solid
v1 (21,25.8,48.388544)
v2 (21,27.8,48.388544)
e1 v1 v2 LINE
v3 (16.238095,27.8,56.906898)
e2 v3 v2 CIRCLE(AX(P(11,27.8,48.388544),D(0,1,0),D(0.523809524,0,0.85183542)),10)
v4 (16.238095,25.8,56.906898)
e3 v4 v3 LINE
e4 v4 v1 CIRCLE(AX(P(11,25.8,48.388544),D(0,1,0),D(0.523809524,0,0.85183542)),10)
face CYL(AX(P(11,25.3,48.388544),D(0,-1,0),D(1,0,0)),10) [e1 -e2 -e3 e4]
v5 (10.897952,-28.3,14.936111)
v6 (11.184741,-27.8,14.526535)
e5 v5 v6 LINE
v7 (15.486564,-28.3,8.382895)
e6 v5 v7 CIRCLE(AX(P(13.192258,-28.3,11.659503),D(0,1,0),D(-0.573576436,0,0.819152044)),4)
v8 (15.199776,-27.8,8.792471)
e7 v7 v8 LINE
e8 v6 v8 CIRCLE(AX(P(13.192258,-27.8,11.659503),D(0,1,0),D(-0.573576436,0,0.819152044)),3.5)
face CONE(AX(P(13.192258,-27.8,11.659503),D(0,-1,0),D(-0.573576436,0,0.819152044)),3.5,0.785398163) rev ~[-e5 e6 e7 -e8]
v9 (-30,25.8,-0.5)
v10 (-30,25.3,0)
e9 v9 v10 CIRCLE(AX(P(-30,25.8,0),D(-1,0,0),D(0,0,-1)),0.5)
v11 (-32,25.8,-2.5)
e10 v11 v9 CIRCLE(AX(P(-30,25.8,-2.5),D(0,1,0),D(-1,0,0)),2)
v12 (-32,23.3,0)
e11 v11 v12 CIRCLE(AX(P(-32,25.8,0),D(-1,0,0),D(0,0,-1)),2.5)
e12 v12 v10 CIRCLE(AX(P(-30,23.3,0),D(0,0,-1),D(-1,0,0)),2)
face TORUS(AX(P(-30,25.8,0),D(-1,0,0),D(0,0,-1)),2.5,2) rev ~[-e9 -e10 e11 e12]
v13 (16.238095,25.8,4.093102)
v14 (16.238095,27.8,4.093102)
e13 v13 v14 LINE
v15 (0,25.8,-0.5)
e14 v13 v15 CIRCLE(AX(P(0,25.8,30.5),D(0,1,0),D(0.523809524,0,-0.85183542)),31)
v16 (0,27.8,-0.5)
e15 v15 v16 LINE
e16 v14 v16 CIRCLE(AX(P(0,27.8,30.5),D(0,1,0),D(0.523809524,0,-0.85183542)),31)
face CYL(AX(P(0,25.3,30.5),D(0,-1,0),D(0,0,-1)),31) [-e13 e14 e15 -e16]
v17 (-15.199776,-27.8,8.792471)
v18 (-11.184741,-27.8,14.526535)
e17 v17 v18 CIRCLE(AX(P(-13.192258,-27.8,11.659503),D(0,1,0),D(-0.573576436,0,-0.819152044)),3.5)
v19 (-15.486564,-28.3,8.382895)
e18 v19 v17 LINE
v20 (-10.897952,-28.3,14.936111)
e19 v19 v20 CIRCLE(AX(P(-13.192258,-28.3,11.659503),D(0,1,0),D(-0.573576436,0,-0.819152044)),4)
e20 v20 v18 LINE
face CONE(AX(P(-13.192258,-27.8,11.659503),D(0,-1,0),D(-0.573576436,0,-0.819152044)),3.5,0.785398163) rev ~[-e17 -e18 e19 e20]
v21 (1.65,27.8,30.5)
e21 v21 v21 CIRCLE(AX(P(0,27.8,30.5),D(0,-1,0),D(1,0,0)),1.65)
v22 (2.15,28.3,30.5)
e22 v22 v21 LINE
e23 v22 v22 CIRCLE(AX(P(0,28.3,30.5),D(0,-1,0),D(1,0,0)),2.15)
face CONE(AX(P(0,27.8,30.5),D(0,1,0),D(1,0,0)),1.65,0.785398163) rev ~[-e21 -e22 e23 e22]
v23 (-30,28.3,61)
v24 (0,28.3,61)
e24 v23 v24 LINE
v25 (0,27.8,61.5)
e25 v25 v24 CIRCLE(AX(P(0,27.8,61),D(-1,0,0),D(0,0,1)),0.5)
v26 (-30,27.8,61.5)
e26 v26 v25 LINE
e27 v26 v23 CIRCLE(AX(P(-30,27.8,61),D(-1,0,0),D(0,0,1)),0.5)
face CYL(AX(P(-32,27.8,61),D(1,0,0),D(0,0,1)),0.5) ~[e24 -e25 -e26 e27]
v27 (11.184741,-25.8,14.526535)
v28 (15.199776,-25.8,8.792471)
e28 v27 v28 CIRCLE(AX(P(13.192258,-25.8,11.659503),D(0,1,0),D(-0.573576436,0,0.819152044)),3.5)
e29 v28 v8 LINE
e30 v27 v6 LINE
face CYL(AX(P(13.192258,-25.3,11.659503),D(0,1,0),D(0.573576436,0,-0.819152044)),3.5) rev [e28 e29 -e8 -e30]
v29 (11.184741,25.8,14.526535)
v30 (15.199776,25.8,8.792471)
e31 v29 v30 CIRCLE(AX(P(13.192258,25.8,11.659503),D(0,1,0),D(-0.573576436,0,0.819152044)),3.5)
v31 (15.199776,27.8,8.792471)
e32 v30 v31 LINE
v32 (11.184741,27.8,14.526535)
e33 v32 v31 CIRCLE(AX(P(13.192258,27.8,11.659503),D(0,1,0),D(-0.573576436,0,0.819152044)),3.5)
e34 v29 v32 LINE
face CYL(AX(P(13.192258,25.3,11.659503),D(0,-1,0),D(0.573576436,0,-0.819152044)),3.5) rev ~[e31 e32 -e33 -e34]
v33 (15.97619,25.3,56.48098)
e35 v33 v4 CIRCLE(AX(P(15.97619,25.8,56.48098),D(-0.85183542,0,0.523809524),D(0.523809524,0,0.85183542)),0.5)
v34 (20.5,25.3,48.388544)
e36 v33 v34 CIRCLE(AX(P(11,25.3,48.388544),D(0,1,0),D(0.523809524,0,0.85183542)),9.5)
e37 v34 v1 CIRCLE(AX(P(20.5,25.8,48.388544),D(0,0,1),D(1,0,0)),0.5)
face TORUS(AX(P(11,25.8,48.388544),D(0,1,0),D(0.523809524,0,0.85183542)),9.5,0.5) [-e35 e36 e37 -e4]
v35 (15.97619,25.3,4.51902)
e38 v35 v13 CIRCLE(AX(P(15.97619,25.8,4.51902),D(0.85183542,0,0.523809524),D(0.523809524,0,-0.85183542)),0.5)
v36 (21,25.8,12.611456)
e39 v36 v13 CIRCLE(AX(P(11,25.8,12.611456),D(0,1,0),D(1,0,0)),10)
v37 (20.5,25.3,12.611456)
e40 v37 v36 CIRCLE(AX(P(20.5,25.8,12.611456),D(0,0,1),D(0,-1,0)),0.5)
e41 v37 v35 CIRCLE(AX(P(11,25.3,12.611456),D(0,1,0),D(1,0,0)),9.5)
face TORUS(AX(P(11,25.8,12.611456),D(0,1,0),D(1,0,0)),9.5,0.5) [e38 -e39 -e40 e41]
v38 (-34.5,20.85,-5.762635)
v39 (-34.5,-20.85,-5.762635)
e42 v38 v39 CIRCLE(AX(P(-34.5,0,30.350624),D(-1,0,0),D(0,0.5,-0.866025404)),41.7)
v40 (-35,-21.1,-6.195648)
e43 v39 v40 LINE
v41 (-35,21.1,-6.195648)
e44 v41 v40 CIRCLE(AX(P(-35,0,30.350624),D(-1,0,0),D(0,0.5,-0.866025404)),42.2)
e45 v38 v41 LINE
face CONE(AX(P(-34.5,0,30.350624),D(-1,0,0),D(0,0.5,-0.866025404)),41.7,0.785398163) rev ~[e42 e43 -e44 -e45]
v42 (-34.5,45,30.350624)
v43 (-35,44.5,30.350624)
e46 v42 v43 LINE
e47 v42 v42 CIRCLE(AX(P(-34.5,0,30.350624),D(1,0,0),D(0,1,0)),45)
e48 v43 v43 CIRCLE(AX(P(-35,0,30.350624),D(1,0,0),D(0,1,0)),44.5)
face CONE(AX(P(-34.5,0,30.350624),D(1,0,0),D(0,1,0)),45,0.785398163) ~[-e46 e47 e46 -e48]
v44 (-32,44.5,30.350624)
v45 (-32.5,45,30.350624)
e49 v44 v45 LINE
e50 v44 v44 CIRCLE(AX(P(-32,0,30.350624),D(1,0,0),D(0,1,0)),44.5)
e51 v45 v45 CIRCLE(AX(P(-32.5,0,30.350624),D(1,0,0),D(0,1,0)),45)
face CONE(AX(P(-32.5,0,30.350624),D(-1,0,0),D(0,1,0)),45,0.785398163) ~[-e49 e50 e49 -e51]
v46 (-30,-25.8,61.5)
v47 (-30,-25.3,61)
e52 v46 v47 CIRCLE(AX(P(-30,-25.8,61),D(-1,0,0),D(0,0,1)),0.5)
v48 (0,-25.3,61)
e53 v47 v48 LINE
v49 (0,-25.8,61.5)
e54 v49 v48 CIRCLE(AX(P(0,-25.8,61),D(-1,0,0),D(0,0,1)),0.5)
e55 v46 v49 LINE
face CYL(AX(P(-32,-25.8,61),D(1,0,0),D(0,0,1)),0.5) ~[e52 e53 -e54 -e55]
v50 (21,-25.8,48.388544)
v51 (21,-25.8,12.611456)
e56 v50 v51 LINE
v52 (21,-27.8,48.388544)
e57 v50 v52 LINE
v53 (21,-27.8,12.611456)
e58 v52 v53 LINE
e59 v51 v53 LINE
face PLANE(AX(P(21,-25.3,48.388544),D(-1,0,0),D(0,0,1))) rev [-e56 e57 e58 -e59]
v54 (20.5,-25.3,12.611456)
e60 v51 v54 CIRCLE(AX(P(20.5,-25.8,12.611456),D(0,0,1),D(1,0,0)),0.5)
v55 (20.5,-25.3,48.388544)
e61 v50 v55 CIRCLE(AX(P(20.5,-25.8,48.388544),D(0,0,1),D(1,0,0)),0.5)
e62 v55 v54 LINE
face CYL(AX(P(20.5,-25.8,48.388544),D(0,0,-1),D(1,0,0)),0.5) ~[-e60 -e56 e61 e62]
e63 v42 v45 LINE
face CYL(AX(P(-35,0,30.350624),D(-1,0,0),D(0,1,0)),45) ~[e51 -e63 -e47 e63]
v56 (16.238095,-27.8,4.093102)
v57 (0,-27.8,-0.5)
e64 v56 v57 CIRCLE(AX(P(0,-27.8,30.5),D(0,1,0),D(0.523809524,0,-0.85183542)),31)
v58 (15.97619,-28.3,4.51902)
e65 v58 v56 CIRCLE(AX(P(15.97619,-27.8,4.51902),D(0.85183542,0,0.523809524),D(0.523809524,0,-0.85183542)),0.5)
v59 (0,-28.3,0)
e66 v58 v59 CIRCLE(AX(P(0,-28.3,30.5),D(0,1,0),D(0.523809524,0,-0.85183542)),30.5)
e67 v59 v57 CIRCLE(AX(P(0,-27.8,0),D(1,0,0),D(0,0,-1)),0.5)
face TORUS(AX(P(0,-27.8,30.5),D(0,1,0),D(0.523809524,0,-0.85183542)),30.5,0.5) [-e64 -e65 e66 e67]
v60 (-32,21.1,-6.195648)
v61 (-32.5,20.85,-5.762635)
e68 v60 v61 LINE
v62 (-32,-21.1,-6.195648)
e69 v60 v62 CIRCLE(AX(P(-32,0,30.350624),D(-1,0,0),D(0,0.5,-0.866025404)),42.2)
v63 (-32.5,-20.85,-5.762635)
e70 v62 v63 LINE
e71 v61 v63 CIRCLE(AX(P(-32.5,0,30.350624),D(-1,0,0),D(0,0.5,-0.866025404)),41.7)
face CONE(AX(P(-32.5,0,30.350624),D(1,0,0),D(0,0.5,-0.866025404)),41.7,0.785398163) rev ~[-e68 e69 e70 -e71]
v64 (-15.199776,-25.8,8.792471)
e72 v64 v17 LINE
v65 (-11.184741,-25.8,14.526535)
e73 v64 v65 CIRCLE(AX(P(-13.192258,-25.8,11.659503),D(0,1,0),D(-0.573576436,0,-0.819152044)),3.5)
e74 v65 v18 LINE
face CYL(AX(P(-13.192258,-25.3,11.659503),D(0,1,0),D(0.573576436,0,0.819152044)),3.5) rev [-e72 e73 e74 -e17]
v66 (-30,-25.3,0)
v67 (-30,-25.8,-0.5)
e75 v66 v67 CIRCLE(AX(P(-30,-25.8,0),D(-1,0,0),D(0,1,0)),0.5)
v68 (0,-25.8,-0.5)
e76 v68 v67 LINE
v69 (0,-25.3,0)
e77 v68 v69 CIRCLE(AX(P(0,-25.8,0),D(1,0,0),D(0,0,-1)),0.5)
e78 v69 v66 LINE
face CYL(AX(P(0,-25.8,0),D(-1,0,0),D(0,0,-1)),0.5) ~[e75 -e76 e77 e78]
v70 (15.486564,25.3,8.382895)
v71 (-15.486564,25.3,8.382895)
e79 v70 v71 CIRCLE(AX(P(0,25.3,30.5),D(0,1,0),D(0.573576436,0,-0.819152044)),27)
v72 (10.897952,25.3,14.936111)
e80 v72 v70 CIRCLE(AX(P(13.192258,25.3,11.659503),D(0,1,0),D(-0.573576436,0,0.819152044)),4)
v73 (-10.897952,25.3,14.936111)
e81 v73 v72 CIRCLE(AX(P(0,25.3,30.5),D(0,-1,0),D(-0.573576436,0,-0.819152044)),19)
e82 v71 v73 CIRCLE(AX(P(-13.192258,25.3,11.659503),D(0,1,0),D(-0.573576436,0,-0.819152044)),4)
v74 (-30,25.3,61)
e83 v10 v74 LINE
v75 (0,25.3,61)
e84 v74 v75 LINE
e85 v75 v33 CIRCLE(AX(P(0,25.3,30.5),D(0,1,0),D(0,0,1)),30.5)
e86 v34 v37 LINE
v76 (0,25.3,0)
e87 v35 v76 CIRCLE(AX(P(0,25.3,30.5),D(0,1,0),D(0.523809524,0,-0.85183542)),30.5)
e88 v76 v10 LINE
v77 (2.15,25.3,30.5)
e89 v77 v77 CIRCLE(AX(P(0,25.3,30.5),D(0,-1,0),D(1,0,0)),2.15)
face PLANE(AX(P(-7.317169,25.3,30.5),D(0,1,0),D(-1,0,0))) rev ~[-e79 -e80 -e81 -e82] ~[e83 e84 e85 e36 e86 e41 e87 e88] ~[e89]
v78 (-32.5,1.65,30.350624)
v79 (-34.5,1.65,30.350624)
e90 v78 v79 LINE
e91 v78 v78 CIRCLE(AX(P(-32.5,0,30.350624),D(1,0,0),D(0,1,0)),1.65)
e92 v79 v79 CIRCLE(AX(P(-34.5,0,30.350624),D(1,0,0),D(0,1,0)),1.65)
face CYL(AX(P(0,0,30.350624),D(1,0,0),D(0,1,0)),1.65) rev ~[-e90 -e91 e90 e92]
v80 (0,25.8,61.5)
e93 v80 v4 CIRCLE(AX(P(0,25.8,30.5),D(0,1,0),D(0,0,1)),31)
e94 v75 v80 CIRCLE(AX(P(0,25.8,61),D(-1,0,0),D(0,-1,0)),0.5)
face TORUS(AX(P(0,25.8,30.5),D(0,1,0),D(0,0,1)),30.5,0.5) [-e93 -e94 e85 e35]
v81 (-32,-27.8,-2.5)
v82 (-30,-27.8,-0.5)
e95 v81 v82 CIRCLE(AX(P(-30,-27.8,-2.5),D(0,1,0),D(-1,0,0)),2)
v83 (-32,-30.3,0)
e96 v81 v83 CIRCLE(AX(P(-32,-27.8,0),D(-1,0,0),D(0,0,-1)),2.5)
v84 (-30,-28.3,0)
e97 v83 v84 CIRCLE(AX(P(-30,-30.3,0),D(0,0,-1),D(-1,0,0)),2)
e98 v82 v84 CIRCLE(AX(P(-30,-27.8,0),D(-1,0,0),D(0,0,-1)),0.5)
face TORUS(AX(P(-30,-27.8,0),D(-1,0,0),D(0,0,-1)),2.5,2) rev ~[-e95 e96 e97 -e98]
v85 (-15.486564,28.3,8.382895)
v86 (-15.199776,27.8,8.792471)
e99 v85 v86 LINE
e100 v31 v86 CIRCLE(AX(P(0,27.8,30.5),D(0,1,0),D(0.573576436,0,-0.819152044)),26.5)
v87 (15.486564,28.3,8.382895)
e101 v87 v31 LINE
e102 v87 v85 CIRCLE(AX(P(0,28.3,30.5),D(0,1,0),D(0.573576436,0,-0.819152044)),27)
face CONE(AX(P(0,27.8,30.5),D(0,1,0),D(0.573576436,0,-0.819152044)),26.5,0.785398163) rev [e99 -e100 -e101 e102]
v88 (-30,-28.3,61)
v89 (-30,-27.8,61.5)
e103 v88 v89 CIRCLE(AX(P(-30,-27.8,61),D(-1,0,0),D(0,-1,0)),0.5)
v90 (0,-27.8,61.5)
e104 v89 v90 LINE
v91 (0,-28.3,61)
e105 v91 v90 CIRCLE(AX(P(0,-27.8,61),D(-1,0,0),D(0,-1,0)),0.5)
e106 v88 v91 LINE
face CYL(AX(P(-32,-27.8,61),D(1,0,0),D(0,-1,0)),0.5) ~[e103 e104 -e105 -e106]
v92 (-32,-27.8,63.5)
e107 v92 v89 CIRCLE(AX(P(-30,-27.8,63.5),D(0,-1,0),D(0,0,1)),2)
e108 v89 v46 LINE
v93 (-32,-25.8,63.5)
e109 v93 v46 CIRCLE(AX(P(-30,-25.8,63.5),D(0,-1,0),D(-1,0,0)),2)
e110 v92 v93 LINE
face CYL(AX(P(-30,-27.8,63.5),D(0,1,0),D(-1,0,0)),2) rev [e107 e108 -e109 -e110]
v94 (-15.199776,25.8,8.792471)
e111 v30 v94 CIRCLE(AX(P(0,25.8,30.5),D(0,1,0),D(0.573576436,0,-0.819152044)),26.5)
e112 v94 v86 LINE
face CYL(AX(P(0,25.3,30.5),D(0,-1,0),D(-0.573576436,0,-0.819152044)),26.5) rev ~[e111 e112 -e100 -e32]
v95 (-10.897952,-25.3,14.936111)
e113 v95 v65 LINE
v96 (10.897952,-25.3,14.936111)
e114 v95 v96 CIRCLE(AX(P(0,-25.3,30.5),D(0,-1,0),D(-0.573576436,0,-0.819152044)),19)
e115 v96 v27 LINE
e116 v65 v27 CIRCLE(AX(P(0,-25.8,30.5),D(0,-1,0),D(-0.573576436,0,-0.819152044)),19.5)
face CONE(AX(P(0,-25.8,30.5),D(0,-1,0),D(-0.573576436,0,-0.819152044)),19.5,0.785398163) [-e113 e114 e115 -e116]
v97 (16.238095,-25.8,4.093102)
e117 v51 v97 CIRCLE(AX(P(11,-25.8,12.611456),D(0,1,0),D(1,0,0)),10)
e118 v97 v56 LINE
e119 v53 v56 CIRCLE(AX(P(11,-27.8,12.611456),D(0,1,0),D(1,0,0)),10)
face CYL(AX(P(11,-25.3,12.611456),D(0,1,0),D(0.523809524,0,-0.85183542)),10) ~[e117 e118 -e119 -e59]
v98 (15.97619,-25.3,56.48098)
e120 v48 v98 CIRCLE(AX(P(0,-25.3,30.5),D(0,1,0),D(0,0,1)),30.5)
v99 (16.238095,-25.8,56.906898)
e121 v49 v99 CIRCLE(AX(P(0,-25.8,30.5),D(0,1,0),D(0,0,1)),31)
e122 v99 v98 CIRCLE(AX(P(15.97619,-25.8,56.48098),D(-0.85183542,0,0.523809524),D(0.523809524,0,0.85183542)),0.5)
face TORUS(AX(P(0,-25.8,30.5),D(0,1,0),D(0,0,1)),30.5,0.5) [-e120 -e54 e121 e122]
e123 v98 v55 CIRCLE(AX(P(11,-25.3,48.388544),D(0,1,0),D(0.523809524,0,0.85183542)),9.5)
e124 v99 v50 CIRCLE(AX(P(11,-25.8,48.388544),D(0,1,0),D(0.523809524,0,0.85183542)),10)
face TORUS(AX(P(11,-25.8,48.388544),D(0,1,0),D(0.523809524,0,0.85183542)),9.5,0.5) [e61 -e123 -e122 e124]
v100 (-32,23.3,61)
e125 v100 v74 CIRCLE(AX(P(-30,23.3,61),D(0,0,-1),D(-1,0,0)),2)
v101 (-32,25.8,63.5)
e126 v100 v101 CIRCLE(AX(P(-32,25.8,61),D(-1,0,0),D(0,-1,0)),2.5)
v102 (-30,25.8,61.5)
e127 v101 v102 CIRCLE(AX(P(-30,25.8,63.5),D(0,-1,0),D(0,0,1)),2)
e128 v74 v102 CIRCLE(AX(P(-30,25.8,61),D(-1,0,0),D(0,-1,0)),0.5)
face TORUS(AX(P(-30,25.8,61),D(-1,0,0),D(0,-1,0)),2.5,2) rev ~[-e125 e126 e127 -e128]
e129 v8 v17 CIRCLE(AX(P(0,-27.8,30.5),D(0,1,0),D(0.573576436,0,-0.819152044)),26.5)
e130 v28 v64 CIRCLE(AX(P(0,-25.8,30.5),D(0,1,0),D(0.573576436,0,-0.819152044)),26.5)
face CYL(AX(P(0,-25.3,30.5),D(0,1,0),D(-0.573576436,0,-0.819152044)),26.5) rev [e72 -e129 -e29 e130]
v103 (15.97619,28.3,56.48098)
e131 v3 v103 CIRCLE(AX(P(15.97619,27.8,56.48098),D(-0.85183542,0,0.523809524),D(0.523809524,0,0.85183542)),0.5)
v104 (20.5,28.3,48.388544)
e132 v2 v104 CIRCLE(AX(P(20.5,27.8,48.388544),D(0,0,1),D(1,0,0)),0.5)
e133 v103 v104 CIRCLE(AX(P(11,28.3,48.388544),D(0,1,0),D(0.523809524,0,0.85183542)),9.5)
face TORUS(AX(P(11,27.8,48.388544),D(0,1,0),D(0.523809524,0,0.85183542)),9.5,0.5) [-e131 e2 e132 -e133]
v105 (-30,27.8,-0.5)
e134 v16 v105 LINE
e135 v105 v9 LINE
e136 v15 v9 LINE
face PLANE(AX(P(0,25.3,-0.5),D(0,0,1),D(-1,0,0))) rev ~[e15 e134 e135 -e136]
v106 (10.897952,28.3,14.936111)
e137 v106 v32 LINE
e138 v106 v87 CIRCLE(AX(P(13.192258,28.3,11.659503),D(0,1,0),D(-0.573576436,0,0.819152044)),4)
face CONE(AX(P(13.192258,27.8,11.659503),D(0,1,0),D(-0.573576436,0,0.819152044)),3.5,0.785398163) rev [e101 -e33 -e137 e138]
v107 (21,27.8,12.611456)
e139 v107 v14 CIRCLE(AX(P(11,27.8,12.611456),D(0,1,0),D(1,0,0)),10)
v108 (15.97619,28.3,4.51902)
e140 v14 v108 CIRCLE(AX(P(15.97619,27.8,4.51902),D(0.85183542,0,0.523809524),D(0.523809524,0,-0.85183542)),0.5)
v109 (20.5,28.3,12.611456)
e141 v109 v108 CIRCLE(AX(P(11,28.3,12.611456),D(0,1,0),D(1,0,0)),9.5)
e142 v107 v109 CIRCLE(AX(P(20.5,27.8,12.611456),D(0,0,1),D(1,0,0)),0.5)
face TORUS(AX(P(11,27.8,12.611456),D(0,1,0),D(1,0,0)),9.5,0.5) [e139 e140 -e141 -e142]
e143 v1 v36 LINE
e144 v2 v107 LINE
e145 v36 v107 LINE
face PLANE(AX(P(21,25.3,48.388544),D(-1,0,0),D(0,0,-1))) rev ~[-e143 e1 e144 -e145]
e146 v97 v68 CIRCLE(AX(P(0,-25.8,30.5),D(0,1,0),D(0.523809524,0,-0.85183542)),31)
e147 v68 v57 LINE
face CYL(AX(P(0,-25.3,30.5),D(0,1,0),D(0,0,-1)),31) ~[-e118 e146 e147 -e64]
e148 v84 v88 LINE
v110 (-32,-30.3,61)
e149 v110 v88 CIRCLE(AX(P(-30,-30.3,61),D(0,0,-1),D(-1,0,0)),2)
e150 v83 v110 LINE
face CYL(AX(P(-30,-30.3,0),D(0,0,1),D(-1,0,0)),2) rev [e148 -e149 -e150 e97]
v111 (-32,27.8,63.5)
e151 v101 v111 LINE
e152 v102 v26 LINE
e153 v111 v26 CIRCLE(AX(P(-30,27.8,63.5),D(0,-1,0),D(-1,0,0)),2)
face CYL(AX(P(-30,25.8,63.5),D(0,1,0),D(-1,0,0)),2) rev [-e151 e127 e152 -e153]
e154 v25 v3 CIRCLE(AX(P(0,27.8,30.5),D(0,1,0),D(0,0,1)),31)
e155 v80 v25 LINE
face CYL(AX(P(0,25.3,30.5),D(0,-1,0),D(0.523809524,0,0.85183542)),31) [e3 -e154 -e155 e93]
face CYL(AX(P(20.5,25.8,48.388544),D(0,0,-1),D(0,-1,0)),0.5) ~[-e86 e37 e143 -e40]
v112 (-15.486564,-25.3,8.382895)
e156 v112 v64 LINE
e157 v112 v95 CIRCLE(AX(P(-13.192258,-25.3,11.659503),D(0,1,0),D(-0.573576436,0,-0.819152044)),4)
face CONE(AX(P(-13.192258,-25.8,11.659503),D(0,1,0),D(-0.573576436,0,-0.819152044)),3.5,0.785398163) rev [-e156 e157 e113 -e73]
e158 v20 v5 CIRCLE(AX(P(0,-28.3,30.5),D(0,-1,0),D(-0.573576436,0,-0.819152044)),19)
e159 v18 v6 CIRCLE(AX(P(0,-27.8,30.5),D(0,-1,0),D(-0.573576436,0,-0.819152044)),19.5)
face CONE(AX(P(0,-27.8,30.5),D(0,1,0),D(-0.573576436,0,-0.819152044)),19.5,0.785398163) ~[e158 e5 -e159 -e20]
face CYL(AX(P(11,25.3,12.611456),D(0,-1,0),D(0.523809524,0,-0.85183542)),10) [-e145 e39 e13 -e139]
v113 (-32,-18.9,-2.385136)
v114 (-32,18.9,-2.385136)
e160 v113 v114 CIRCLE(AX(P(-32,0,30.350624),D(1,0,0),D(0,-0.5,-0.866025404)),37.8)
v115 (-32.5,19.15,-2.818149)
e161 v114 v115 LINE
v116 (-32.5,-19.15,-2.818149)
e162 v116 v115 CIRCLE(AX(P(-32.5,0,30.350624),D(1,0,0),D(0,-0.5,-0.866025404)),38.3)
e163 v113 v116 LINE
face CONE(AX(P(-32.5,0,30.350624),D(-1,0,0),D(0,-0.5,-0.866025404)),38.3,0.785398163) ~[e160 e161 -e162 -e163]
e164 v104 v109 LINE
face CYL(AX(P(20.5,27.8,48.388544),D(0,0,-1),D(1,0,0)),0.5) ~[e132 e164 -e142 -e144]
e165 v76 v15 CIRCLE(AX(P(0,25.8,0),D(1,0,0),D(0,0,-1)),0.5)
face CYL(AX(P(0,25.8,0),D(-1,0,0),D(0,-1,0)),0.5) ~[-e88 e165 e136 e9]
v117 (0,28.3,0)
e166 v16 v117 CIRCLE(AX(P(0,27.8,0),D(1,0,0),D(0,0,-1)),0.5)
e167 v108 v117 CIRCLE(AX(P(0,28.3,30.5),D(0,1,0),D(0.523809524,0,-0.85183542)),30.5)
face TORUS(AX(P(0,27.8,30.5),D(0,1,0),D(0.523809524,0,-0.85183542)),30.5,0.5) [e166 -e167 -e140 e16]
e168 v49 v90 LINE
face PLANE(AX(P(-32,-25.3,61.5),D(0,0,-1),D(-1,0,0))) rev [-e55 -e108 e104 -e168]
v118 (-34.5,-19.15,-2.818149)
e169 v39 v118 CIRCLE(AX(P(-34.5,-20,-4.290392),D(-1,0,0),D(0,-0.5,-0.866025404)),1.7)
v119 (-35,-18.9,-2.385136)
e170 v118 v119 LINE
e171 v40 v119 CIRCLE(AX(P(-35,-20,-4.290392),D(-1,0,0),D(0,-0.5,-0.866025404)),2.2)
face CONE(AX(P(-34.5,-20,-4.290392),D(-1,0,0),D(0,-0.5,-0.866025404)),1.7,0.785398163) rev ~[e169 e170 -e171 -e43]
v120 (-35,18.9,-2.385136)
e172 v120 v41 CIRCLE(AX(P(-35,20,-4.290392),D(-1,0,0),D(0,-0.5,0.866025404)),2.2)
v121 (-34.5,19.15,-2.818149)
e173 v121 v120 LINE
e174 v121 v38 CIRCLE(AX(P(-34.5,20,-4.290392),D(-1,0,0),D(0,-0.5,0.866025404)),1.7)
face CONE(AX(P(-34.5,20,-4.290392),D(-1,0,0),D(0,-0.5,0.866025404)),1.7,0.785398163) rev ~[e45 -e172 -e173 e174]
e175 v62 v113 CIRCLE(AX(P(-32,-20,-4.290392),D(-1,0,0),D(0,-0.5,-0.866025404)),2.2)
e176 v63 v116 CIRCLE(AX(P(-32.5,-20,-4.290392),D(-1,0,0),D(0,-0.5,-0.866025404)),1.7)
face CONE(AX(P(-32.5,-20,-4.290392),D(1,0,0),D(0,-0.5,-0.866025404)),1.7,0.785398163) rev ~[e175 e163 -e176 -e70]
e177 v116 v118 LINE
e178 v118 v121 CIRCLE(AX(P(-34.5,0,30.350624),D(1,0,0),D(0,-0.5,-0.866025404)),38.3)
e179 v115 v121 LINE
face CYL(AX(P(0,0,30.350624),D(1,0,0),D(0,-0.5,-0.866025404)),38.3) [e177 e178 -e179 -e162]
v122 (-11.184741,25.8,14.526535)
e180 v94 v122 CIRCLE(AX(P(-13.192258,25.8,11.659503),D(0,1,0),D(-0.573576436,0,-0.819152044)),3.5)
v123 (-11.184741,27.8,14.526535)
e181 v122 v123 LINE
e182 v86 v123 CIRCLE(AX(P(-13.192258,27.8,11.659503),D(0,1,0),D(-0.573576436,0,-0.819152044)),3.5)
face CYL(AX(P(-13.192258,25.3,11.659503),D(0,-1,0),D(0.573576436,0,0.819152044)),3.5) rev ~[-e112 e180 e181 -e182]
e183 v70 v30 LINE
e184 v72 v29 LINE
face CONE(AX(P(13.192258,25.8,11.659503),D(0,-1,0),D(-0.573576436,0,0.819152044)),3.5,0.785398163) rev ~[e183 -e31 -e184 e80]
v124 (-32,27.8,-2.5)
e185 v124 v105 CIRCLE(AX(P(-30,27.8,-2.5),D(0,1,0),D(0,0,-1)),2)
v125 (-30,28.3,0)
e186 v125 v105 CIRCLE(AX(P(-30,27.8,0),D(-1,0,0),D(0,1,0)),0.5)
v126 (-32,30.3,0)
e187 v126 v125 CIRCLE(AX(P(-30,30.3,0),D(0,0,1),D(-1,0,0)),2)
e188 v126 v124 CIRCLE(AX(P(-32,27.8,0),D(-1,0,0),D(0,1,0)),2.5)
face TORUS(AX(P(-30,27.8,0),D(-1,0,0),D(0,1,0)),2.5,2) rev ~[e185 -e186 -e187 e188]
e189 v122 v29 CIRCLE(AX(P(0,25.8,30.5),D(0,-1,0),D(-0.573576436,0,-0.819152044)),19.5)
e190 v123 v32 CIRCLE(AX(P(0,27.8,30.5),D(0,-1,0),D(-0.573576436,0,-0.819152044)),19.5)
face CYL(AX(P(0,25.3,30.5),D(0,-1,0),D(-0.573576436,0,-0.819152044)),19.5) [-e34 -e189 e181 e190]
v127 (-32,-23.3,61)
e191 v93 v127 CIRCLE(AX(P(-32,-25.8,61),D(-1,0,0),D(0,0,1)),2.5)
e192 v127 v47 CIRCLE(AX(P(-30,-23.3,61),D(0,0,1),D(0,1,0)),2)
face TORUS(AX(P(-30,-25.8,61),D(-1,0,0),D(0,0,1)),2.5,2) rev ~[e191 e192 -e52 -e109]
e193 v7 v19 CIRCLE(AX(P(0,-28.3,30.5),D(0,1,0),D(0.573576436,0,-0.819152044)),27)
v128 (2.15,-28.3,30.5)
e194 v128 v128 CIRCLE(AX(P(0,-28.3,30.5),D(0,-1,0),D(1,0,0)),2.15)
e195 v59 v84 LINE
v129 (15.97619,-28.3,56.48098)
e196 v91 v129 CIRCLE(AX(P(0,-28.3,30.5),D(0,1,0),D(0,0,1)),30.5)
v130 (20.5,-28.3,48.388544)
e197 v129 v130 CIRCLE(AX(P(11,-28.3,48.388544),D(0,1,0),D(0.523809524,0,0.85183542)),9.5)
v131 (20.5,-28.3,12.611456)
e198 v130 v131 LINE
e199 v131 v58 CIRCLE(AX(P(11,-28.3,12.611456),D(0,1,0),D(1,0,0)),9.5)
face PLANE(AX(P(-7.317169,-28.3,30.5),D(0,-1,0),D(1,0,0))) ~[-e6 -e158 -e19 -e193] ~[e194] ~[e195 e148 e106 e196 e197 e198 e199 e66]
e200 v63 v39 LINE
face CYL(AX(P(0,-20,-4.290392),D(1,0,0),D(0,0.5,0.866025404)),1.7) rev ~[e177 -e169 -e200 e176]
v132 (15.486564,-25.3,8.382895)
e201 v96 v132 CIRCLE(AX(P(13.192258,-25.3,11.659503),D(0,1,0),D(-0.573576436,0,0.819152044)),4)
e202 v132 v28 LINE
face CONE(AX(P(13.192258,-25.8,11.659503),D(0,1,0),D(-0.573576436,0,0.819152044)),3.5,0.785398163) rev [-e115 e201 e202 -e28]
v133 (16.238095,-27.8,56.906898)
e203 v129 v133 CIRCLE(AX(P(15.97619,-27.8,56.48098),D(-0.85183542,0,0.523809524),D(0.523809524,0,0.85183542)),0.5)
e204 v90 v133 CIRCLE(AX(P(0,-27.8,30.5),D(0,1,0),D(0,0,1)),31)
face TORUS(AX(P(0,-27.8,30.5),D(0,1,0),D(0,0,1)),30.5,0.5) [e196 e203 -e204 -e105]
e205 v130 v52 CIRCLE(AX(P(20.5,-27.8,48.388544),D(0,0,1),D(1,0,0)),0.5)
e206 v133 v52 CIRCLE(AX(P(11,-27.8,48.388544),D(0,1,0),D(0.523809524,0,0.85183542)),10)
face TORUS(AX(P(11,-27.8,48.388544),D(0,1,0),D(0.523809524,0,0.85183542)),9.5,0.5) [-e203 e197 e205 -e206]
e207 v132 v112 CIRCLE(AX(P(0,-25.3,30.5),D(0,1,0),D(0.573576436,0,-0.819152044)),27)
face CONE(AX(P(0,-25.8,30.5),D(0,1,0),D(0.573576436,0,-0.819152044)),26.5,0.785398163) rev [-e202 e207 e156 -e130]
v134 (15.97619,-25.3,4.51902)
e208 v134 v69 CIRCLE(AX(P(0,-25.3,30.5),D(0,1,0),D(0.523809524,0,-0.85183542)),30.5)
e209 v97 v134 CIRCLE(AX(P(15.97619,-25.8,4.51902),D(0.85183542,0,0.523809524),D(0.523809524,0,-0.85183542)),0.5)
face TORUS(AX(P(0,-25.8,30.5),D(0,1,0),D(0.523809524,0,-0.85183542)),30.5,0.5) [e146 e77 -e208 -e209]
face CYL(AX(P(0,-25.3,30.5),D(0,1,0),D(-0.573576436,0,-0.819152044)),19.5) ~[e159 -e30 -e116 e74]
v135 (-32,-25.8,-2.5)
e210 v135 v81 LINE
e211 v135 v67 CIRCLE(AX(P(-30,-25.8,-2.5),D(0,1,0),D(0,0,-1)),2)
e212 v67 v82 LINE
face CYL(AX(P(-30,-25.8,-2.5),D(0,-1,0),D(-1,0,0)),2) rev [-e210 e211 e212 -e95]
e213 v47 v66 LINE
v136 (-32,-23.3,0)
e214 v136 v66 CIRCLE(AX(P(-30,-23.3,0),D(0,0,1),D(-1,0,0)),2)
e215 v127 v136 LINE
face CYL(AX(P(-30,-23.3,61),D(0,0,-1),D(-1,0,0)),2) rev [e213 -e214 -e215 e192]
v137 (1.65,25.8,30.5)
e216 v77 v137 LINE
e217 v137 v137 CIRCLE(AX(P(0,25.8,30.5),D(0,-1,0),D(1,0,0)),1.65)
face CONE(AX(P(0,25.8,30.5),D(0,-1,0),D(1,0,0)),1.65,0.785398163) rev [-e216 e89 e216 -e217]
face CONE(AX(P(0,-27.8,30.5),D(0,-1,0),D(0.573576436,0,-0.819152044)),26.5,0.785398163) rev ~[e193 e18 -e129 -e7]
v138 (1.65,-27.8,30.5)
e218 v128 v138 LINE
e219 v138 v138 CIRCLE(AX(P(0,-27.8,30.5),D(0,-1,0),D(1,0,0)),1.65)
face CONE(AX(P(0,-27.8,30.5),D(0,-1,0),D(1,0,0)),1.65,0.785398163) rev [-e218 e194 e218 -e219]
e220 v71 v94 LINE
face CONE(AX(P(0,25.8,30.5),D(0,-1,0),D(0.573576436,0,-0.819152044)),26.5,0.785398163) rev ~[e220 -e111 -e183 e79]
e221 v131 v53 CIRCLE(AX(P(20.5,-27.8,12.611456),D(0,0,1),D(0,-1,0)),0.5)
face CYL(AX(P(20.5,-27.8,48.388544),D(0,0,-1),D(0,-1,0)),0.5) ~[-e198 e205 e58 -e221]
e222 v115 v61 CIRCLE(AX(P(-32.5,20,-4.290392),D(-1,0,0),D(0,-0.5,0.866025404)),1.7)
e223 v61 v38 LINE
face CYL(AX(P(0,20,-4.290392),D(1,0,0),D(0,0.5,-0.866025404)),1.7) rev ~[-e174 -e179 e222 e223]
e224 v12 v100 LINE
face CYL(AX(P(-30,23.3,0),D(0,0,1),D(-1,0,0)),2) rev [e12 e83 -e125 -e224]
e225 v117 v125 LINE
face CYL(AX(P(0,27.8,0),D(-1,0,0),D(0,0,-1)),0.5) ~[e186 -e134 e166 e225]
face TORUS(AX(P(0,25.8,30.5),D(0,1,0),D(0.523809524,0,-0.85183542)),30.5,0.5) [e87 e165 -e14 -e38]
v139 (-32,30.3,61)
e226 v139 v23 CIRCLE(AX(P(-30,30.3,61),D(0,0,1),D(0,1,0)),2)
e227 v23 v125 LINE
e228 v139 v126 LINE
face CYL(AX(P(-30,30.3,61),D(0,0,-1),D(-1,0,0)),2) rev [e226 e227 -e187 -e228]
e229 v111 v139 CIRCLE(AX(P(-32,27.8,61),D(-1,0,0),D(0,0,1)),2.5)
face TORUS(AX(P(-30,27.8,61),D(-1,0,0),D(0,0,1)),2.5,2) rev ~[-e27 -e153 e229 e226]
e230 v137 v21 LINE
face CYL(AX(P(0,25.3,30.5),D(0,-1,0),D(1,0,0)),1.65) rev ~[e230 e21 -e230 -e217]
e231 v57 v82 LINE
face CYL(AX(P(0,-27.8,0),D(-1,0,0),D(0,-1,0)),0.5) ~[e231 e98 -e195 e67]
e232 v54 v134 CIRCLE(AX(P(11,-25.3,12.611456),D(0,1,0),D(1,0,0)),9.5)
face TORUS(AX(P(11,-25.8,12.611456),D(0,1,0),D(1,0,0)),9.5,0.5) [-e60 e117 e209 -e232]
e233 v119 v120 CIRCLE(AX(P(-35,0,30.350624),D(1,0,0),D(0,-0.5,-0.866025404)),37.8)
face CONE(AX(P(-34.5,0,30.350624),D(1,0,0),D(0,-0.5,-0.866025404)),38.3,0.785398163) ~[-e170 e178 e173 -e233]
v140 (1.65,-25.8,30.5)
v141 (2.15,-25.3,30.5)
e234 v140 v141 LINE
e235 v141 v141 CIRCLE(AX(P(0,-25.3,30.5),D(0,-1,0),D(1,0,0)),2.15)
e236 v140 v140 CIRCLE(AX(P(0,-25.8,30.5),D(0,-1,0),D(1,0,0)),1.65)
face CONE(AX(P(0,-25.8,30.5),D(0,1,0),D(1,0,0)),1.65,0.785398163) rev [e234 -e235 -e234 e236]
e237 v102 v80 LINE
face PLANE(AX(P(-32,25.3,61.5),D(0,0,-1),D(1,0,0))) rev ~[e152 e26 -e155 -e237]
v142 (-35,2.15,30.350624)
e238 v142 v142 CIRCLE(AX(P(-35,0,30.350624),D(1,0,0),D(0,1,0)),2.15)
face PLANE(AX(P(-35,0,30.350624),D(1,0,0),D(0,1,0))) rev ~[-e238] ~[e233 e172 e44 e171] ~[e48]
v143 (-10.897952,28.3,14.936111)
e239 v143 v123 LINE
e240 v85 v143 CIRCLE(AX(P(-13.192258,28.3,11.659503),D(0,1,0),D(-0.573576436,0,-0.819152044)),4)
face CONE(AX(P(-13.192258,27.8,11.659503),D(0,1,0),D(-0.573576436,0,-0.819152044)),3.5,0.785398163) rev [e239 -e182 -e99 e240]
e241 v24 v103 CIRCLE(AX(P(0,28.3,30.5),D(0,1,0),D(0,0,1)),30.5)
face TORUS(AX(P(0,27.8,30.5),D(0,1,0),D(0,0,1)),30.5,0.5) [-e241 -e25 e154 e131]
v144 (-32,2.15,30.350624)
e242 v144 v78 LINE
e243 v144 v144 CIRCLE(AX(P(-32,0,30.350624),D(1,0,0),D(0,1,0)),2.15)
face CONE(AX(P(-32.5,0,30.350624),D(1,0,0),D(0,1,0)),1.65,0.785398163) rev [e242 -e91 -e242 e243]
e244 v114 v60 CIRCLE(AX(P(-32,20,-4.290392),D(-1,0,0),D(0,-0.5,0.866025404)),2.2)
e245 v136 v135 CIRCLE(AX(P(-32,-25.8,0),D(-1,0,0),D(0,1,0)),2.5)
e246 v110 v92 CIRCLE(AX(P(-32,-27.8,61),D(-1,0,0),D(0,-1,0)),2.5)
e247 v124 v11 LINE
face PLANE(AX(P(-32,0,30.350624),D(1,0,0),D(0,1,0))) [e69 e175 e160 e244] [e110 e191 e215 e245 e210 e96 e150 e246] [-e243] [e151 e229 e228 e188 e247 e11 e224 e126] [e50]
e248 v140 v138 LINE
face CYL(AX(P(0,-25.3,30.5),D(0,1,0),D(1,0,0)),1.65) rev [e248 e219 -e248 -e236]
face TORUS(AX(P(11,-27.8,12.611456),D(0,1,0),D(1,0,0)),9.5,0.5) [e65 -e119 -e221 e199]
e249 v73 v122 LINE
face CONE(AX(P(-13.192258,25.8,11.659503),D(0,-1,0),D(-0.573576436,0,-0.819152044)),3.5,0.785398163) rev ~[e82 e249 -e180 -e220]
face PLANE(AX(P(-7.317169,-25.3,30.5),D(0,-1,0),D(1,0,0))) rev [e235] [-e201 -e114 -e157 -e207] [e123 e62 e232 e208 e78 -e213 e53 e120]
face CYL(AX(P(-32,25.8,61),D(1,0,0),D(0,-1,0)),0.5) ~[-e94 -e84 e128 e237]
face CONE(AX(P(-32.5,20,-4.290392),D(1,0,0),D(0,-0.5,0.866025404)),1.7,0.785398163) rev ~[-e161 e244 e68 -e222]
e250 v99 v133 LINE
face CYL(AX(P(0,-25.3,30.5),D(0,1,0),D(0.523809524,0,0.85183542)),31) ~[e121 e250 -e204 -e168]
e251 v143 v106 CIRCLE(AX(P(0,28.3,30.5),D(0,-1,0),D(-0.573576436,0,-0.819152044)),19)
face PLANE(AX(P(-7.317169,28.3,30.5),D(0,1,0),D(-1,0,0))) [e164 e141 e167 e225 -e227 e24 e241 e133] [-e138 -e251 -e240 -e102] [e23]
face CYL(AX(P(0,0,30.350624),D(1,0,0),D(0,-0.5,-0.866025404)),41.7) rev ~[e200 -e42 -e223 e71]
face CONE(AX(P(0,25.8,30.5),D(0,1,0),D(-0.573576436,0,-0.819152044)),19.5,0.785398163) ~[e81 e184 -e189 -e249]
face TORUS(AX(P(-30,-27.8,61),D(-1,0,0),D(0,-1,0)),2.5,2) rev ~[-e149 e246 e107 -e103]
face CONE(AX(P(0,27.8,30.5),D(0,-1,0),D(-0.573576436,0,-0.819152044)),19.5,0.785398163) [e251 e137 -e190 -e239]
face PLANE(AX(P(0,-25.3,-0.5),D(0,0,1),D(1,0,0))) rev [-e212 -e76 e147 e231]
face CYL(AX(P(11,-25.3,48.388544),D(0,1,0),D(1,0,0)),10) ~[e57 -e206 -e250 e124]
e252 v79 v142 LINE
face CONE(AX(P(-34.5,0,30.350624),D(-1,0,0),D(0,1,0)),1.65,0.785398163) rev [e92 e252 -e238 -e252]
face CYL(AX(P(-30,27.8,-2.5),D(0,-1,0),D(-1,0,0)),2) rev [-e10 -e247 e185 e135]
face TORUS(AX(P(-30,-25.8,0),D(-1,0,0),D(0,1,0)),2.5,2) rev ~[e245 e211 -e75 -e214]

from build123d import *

# Parameters (mm, degrees)
SKETCH013_R     = 45
PAD004_DEPTH    = 3
SKETCH014_R     = 1.65
PAD005_DEPTH    = 3
FILLET001_R     = 0.5
FILLET002_R     = 2
CHAMFER001_SIZE = 0.5
CHAMFER002_SIZE = 0.5
CHAMFER003_SIZE = 0.5
SKETCH015_R     = 1.65
POCKET007_DEPTH = 35.001
CHAMFER004_SIZE = 0.5


with BuildPart() as part:
    # Sketch013 → Pad004 (new body)
    with BuildSketch(Plane.YZ.offset(-35)):
        with Locations((0, 30.3506240158)):
            Circle(SKETCH013_R)
    extrude(amount=PAD004_DEPTH)

    # Sketch014 → Pad005 (join)
    with BuildSketch(Plane.XZ.offset(-25.3)):
        with BuildLine():
            Line((-32, 61.5), (0, 61.5))
            ThreePointArc((16.2380952381, 56.90689802), (8.4375992255, 60.3296315651), (0, 61.5))
            ThreePointArc((21, 48.38854382), (19.7287156094, 53.2680441847), (16.2380952381, 56.90689802))
            Line((21, 48.38854382), (21, 12.61145618))
            ThreePointArc((16.2380952381, 4.09310198), (19.7287156094, 7.7319558153), (21, 12.61145618))
            ThreePointArc((0, -0.5), (8.4375992255, 0.6703684349), (16.2380952381, 4.09310198))
            Line((0, -0.5), (-32, -0.5))
            Line((-32, -0.5), (-32, 61.5))
        make_face()
        with Locations((0, 30.5)):
            Circle(SKETCH014_R, mode=Mode.SUBTRACT)
        with BuildLine():
            ThreePointArc((-15.1997755633, 8.7924708263), (0, 4), (15.1997755633, 8.7924708263))
            ThreePointArc((15.1997755633, 8.7924708263), (16.0592901911, 13.6670205086), (11.1847405088, 14.5265351364))
            ThreePointArc((-11.1847405088, 14.5265351364), (0, 11), (11.1847405088, 14.5265351364))
            ThreePointArc((-11.1847405088, 14.5265351364), (-16.0592901911, 13.6670205086), (-15.1997755633, 8.7924708263))
        make_face(mode=Mode.SUBTRACT)
    pad005 = extrude(amount=-PAD005_DEPTH)

    # Mirrored003: Pad005 across XZ
    add(pad005.mirror(Plane.XZ))

    # Fillet001
    fillet001_edges = [part.edges().sort_by_distance(p)[0] for p in [
        (-16, -25.3, -0.5),
        (-16, -28.3, -0.5),
        (-16, 25.3, -0.5),
        (-16, 28.3, -0.5),
    ]]
    fillet(fillet001_edges, radius=FILLET001_R)

    # Fillet002
    fillet002_edges = [part.edges().sort_by_distance(p)[0] for p in [
        (-32, -28.3, 30.5),
        (-32, 25.3, 30.5),
    ]]
    fillet(fillet002_edges, radius=FILLET002_R)

    # Chamfer001
    chamfer001_edges = [part.edges().sort_by_distance(p)[0] for p in [
        (-32, -45, 30.350624),
        (-35, -45, 30.350624),
    ]]
    chamfer(chamfer001_edges, length=CHAMFER001_SIZE)

    # Chamfer002
    chamfer002_edges = [part.edges().sort_by_distance(p)[0] for p in [
        (0, -28.3, 11),
        (0, -25.3, 11),
        (0, 28.3, 11),
        (0, 25.3, 11),
    ]]
    chamfer(chamfer002_edges, length=CHAMFER002_SIZE)

    # Chamfer003
    chamfer003_edges = [part.edges().sort_by_distance(p)[0] for p in [
        (-1.65, 25.3, 30.5),
        (-1.65, -28.3, 30.5),
        (-1.65, -25.3, 30.5),
        (-1.65, 28.3, 30.5),
    ]]
    chamfer(chamfer003_edges, length=CHAMFER003_SIZE)

    # Sketch015 → Pocket007 (cut, through all)
    with BuildSketch(Plane.YZ):
        with Locations((0, 30.3506240158)):
            Circle(SKETCH015_R)
        with BuildLine():
            ThreePointArc((-20.85, -5.762635322), (0, -11.3493759842), (20.85, -5.762635322))
            ThreePointArc((20.85, -5.762635322), (21.4722431864, -3.4403921356), (19.15, -2.8181489491))
            ThreePointArc((-19.15, -2.8181489491), (0, -7.9493759842), (19.15, -2.8181489491))
            ThreePointArc((-19.15, -2.8181489491), (-21.4722431864, -3.4403921356), (-20.85, -5.762635322))
        make_face()
    extrude(amount=-POCKET007_DEPTH, mode=Mode.SUBTRACT)

    # Chamfer004
    chamfer004_edges = [part.edges().sort_by_distance(p)[0] for p in [
        (-32, -1.65, 30.350624),
        (-32, 0, -7.949376),
        (-35, 0, -7.949376),
        (-35, -1.65, 30.350624),
    ]]
    chamfer(chamfer004_edges, length=CHAMFER004_SIZE)


solid = part.part
